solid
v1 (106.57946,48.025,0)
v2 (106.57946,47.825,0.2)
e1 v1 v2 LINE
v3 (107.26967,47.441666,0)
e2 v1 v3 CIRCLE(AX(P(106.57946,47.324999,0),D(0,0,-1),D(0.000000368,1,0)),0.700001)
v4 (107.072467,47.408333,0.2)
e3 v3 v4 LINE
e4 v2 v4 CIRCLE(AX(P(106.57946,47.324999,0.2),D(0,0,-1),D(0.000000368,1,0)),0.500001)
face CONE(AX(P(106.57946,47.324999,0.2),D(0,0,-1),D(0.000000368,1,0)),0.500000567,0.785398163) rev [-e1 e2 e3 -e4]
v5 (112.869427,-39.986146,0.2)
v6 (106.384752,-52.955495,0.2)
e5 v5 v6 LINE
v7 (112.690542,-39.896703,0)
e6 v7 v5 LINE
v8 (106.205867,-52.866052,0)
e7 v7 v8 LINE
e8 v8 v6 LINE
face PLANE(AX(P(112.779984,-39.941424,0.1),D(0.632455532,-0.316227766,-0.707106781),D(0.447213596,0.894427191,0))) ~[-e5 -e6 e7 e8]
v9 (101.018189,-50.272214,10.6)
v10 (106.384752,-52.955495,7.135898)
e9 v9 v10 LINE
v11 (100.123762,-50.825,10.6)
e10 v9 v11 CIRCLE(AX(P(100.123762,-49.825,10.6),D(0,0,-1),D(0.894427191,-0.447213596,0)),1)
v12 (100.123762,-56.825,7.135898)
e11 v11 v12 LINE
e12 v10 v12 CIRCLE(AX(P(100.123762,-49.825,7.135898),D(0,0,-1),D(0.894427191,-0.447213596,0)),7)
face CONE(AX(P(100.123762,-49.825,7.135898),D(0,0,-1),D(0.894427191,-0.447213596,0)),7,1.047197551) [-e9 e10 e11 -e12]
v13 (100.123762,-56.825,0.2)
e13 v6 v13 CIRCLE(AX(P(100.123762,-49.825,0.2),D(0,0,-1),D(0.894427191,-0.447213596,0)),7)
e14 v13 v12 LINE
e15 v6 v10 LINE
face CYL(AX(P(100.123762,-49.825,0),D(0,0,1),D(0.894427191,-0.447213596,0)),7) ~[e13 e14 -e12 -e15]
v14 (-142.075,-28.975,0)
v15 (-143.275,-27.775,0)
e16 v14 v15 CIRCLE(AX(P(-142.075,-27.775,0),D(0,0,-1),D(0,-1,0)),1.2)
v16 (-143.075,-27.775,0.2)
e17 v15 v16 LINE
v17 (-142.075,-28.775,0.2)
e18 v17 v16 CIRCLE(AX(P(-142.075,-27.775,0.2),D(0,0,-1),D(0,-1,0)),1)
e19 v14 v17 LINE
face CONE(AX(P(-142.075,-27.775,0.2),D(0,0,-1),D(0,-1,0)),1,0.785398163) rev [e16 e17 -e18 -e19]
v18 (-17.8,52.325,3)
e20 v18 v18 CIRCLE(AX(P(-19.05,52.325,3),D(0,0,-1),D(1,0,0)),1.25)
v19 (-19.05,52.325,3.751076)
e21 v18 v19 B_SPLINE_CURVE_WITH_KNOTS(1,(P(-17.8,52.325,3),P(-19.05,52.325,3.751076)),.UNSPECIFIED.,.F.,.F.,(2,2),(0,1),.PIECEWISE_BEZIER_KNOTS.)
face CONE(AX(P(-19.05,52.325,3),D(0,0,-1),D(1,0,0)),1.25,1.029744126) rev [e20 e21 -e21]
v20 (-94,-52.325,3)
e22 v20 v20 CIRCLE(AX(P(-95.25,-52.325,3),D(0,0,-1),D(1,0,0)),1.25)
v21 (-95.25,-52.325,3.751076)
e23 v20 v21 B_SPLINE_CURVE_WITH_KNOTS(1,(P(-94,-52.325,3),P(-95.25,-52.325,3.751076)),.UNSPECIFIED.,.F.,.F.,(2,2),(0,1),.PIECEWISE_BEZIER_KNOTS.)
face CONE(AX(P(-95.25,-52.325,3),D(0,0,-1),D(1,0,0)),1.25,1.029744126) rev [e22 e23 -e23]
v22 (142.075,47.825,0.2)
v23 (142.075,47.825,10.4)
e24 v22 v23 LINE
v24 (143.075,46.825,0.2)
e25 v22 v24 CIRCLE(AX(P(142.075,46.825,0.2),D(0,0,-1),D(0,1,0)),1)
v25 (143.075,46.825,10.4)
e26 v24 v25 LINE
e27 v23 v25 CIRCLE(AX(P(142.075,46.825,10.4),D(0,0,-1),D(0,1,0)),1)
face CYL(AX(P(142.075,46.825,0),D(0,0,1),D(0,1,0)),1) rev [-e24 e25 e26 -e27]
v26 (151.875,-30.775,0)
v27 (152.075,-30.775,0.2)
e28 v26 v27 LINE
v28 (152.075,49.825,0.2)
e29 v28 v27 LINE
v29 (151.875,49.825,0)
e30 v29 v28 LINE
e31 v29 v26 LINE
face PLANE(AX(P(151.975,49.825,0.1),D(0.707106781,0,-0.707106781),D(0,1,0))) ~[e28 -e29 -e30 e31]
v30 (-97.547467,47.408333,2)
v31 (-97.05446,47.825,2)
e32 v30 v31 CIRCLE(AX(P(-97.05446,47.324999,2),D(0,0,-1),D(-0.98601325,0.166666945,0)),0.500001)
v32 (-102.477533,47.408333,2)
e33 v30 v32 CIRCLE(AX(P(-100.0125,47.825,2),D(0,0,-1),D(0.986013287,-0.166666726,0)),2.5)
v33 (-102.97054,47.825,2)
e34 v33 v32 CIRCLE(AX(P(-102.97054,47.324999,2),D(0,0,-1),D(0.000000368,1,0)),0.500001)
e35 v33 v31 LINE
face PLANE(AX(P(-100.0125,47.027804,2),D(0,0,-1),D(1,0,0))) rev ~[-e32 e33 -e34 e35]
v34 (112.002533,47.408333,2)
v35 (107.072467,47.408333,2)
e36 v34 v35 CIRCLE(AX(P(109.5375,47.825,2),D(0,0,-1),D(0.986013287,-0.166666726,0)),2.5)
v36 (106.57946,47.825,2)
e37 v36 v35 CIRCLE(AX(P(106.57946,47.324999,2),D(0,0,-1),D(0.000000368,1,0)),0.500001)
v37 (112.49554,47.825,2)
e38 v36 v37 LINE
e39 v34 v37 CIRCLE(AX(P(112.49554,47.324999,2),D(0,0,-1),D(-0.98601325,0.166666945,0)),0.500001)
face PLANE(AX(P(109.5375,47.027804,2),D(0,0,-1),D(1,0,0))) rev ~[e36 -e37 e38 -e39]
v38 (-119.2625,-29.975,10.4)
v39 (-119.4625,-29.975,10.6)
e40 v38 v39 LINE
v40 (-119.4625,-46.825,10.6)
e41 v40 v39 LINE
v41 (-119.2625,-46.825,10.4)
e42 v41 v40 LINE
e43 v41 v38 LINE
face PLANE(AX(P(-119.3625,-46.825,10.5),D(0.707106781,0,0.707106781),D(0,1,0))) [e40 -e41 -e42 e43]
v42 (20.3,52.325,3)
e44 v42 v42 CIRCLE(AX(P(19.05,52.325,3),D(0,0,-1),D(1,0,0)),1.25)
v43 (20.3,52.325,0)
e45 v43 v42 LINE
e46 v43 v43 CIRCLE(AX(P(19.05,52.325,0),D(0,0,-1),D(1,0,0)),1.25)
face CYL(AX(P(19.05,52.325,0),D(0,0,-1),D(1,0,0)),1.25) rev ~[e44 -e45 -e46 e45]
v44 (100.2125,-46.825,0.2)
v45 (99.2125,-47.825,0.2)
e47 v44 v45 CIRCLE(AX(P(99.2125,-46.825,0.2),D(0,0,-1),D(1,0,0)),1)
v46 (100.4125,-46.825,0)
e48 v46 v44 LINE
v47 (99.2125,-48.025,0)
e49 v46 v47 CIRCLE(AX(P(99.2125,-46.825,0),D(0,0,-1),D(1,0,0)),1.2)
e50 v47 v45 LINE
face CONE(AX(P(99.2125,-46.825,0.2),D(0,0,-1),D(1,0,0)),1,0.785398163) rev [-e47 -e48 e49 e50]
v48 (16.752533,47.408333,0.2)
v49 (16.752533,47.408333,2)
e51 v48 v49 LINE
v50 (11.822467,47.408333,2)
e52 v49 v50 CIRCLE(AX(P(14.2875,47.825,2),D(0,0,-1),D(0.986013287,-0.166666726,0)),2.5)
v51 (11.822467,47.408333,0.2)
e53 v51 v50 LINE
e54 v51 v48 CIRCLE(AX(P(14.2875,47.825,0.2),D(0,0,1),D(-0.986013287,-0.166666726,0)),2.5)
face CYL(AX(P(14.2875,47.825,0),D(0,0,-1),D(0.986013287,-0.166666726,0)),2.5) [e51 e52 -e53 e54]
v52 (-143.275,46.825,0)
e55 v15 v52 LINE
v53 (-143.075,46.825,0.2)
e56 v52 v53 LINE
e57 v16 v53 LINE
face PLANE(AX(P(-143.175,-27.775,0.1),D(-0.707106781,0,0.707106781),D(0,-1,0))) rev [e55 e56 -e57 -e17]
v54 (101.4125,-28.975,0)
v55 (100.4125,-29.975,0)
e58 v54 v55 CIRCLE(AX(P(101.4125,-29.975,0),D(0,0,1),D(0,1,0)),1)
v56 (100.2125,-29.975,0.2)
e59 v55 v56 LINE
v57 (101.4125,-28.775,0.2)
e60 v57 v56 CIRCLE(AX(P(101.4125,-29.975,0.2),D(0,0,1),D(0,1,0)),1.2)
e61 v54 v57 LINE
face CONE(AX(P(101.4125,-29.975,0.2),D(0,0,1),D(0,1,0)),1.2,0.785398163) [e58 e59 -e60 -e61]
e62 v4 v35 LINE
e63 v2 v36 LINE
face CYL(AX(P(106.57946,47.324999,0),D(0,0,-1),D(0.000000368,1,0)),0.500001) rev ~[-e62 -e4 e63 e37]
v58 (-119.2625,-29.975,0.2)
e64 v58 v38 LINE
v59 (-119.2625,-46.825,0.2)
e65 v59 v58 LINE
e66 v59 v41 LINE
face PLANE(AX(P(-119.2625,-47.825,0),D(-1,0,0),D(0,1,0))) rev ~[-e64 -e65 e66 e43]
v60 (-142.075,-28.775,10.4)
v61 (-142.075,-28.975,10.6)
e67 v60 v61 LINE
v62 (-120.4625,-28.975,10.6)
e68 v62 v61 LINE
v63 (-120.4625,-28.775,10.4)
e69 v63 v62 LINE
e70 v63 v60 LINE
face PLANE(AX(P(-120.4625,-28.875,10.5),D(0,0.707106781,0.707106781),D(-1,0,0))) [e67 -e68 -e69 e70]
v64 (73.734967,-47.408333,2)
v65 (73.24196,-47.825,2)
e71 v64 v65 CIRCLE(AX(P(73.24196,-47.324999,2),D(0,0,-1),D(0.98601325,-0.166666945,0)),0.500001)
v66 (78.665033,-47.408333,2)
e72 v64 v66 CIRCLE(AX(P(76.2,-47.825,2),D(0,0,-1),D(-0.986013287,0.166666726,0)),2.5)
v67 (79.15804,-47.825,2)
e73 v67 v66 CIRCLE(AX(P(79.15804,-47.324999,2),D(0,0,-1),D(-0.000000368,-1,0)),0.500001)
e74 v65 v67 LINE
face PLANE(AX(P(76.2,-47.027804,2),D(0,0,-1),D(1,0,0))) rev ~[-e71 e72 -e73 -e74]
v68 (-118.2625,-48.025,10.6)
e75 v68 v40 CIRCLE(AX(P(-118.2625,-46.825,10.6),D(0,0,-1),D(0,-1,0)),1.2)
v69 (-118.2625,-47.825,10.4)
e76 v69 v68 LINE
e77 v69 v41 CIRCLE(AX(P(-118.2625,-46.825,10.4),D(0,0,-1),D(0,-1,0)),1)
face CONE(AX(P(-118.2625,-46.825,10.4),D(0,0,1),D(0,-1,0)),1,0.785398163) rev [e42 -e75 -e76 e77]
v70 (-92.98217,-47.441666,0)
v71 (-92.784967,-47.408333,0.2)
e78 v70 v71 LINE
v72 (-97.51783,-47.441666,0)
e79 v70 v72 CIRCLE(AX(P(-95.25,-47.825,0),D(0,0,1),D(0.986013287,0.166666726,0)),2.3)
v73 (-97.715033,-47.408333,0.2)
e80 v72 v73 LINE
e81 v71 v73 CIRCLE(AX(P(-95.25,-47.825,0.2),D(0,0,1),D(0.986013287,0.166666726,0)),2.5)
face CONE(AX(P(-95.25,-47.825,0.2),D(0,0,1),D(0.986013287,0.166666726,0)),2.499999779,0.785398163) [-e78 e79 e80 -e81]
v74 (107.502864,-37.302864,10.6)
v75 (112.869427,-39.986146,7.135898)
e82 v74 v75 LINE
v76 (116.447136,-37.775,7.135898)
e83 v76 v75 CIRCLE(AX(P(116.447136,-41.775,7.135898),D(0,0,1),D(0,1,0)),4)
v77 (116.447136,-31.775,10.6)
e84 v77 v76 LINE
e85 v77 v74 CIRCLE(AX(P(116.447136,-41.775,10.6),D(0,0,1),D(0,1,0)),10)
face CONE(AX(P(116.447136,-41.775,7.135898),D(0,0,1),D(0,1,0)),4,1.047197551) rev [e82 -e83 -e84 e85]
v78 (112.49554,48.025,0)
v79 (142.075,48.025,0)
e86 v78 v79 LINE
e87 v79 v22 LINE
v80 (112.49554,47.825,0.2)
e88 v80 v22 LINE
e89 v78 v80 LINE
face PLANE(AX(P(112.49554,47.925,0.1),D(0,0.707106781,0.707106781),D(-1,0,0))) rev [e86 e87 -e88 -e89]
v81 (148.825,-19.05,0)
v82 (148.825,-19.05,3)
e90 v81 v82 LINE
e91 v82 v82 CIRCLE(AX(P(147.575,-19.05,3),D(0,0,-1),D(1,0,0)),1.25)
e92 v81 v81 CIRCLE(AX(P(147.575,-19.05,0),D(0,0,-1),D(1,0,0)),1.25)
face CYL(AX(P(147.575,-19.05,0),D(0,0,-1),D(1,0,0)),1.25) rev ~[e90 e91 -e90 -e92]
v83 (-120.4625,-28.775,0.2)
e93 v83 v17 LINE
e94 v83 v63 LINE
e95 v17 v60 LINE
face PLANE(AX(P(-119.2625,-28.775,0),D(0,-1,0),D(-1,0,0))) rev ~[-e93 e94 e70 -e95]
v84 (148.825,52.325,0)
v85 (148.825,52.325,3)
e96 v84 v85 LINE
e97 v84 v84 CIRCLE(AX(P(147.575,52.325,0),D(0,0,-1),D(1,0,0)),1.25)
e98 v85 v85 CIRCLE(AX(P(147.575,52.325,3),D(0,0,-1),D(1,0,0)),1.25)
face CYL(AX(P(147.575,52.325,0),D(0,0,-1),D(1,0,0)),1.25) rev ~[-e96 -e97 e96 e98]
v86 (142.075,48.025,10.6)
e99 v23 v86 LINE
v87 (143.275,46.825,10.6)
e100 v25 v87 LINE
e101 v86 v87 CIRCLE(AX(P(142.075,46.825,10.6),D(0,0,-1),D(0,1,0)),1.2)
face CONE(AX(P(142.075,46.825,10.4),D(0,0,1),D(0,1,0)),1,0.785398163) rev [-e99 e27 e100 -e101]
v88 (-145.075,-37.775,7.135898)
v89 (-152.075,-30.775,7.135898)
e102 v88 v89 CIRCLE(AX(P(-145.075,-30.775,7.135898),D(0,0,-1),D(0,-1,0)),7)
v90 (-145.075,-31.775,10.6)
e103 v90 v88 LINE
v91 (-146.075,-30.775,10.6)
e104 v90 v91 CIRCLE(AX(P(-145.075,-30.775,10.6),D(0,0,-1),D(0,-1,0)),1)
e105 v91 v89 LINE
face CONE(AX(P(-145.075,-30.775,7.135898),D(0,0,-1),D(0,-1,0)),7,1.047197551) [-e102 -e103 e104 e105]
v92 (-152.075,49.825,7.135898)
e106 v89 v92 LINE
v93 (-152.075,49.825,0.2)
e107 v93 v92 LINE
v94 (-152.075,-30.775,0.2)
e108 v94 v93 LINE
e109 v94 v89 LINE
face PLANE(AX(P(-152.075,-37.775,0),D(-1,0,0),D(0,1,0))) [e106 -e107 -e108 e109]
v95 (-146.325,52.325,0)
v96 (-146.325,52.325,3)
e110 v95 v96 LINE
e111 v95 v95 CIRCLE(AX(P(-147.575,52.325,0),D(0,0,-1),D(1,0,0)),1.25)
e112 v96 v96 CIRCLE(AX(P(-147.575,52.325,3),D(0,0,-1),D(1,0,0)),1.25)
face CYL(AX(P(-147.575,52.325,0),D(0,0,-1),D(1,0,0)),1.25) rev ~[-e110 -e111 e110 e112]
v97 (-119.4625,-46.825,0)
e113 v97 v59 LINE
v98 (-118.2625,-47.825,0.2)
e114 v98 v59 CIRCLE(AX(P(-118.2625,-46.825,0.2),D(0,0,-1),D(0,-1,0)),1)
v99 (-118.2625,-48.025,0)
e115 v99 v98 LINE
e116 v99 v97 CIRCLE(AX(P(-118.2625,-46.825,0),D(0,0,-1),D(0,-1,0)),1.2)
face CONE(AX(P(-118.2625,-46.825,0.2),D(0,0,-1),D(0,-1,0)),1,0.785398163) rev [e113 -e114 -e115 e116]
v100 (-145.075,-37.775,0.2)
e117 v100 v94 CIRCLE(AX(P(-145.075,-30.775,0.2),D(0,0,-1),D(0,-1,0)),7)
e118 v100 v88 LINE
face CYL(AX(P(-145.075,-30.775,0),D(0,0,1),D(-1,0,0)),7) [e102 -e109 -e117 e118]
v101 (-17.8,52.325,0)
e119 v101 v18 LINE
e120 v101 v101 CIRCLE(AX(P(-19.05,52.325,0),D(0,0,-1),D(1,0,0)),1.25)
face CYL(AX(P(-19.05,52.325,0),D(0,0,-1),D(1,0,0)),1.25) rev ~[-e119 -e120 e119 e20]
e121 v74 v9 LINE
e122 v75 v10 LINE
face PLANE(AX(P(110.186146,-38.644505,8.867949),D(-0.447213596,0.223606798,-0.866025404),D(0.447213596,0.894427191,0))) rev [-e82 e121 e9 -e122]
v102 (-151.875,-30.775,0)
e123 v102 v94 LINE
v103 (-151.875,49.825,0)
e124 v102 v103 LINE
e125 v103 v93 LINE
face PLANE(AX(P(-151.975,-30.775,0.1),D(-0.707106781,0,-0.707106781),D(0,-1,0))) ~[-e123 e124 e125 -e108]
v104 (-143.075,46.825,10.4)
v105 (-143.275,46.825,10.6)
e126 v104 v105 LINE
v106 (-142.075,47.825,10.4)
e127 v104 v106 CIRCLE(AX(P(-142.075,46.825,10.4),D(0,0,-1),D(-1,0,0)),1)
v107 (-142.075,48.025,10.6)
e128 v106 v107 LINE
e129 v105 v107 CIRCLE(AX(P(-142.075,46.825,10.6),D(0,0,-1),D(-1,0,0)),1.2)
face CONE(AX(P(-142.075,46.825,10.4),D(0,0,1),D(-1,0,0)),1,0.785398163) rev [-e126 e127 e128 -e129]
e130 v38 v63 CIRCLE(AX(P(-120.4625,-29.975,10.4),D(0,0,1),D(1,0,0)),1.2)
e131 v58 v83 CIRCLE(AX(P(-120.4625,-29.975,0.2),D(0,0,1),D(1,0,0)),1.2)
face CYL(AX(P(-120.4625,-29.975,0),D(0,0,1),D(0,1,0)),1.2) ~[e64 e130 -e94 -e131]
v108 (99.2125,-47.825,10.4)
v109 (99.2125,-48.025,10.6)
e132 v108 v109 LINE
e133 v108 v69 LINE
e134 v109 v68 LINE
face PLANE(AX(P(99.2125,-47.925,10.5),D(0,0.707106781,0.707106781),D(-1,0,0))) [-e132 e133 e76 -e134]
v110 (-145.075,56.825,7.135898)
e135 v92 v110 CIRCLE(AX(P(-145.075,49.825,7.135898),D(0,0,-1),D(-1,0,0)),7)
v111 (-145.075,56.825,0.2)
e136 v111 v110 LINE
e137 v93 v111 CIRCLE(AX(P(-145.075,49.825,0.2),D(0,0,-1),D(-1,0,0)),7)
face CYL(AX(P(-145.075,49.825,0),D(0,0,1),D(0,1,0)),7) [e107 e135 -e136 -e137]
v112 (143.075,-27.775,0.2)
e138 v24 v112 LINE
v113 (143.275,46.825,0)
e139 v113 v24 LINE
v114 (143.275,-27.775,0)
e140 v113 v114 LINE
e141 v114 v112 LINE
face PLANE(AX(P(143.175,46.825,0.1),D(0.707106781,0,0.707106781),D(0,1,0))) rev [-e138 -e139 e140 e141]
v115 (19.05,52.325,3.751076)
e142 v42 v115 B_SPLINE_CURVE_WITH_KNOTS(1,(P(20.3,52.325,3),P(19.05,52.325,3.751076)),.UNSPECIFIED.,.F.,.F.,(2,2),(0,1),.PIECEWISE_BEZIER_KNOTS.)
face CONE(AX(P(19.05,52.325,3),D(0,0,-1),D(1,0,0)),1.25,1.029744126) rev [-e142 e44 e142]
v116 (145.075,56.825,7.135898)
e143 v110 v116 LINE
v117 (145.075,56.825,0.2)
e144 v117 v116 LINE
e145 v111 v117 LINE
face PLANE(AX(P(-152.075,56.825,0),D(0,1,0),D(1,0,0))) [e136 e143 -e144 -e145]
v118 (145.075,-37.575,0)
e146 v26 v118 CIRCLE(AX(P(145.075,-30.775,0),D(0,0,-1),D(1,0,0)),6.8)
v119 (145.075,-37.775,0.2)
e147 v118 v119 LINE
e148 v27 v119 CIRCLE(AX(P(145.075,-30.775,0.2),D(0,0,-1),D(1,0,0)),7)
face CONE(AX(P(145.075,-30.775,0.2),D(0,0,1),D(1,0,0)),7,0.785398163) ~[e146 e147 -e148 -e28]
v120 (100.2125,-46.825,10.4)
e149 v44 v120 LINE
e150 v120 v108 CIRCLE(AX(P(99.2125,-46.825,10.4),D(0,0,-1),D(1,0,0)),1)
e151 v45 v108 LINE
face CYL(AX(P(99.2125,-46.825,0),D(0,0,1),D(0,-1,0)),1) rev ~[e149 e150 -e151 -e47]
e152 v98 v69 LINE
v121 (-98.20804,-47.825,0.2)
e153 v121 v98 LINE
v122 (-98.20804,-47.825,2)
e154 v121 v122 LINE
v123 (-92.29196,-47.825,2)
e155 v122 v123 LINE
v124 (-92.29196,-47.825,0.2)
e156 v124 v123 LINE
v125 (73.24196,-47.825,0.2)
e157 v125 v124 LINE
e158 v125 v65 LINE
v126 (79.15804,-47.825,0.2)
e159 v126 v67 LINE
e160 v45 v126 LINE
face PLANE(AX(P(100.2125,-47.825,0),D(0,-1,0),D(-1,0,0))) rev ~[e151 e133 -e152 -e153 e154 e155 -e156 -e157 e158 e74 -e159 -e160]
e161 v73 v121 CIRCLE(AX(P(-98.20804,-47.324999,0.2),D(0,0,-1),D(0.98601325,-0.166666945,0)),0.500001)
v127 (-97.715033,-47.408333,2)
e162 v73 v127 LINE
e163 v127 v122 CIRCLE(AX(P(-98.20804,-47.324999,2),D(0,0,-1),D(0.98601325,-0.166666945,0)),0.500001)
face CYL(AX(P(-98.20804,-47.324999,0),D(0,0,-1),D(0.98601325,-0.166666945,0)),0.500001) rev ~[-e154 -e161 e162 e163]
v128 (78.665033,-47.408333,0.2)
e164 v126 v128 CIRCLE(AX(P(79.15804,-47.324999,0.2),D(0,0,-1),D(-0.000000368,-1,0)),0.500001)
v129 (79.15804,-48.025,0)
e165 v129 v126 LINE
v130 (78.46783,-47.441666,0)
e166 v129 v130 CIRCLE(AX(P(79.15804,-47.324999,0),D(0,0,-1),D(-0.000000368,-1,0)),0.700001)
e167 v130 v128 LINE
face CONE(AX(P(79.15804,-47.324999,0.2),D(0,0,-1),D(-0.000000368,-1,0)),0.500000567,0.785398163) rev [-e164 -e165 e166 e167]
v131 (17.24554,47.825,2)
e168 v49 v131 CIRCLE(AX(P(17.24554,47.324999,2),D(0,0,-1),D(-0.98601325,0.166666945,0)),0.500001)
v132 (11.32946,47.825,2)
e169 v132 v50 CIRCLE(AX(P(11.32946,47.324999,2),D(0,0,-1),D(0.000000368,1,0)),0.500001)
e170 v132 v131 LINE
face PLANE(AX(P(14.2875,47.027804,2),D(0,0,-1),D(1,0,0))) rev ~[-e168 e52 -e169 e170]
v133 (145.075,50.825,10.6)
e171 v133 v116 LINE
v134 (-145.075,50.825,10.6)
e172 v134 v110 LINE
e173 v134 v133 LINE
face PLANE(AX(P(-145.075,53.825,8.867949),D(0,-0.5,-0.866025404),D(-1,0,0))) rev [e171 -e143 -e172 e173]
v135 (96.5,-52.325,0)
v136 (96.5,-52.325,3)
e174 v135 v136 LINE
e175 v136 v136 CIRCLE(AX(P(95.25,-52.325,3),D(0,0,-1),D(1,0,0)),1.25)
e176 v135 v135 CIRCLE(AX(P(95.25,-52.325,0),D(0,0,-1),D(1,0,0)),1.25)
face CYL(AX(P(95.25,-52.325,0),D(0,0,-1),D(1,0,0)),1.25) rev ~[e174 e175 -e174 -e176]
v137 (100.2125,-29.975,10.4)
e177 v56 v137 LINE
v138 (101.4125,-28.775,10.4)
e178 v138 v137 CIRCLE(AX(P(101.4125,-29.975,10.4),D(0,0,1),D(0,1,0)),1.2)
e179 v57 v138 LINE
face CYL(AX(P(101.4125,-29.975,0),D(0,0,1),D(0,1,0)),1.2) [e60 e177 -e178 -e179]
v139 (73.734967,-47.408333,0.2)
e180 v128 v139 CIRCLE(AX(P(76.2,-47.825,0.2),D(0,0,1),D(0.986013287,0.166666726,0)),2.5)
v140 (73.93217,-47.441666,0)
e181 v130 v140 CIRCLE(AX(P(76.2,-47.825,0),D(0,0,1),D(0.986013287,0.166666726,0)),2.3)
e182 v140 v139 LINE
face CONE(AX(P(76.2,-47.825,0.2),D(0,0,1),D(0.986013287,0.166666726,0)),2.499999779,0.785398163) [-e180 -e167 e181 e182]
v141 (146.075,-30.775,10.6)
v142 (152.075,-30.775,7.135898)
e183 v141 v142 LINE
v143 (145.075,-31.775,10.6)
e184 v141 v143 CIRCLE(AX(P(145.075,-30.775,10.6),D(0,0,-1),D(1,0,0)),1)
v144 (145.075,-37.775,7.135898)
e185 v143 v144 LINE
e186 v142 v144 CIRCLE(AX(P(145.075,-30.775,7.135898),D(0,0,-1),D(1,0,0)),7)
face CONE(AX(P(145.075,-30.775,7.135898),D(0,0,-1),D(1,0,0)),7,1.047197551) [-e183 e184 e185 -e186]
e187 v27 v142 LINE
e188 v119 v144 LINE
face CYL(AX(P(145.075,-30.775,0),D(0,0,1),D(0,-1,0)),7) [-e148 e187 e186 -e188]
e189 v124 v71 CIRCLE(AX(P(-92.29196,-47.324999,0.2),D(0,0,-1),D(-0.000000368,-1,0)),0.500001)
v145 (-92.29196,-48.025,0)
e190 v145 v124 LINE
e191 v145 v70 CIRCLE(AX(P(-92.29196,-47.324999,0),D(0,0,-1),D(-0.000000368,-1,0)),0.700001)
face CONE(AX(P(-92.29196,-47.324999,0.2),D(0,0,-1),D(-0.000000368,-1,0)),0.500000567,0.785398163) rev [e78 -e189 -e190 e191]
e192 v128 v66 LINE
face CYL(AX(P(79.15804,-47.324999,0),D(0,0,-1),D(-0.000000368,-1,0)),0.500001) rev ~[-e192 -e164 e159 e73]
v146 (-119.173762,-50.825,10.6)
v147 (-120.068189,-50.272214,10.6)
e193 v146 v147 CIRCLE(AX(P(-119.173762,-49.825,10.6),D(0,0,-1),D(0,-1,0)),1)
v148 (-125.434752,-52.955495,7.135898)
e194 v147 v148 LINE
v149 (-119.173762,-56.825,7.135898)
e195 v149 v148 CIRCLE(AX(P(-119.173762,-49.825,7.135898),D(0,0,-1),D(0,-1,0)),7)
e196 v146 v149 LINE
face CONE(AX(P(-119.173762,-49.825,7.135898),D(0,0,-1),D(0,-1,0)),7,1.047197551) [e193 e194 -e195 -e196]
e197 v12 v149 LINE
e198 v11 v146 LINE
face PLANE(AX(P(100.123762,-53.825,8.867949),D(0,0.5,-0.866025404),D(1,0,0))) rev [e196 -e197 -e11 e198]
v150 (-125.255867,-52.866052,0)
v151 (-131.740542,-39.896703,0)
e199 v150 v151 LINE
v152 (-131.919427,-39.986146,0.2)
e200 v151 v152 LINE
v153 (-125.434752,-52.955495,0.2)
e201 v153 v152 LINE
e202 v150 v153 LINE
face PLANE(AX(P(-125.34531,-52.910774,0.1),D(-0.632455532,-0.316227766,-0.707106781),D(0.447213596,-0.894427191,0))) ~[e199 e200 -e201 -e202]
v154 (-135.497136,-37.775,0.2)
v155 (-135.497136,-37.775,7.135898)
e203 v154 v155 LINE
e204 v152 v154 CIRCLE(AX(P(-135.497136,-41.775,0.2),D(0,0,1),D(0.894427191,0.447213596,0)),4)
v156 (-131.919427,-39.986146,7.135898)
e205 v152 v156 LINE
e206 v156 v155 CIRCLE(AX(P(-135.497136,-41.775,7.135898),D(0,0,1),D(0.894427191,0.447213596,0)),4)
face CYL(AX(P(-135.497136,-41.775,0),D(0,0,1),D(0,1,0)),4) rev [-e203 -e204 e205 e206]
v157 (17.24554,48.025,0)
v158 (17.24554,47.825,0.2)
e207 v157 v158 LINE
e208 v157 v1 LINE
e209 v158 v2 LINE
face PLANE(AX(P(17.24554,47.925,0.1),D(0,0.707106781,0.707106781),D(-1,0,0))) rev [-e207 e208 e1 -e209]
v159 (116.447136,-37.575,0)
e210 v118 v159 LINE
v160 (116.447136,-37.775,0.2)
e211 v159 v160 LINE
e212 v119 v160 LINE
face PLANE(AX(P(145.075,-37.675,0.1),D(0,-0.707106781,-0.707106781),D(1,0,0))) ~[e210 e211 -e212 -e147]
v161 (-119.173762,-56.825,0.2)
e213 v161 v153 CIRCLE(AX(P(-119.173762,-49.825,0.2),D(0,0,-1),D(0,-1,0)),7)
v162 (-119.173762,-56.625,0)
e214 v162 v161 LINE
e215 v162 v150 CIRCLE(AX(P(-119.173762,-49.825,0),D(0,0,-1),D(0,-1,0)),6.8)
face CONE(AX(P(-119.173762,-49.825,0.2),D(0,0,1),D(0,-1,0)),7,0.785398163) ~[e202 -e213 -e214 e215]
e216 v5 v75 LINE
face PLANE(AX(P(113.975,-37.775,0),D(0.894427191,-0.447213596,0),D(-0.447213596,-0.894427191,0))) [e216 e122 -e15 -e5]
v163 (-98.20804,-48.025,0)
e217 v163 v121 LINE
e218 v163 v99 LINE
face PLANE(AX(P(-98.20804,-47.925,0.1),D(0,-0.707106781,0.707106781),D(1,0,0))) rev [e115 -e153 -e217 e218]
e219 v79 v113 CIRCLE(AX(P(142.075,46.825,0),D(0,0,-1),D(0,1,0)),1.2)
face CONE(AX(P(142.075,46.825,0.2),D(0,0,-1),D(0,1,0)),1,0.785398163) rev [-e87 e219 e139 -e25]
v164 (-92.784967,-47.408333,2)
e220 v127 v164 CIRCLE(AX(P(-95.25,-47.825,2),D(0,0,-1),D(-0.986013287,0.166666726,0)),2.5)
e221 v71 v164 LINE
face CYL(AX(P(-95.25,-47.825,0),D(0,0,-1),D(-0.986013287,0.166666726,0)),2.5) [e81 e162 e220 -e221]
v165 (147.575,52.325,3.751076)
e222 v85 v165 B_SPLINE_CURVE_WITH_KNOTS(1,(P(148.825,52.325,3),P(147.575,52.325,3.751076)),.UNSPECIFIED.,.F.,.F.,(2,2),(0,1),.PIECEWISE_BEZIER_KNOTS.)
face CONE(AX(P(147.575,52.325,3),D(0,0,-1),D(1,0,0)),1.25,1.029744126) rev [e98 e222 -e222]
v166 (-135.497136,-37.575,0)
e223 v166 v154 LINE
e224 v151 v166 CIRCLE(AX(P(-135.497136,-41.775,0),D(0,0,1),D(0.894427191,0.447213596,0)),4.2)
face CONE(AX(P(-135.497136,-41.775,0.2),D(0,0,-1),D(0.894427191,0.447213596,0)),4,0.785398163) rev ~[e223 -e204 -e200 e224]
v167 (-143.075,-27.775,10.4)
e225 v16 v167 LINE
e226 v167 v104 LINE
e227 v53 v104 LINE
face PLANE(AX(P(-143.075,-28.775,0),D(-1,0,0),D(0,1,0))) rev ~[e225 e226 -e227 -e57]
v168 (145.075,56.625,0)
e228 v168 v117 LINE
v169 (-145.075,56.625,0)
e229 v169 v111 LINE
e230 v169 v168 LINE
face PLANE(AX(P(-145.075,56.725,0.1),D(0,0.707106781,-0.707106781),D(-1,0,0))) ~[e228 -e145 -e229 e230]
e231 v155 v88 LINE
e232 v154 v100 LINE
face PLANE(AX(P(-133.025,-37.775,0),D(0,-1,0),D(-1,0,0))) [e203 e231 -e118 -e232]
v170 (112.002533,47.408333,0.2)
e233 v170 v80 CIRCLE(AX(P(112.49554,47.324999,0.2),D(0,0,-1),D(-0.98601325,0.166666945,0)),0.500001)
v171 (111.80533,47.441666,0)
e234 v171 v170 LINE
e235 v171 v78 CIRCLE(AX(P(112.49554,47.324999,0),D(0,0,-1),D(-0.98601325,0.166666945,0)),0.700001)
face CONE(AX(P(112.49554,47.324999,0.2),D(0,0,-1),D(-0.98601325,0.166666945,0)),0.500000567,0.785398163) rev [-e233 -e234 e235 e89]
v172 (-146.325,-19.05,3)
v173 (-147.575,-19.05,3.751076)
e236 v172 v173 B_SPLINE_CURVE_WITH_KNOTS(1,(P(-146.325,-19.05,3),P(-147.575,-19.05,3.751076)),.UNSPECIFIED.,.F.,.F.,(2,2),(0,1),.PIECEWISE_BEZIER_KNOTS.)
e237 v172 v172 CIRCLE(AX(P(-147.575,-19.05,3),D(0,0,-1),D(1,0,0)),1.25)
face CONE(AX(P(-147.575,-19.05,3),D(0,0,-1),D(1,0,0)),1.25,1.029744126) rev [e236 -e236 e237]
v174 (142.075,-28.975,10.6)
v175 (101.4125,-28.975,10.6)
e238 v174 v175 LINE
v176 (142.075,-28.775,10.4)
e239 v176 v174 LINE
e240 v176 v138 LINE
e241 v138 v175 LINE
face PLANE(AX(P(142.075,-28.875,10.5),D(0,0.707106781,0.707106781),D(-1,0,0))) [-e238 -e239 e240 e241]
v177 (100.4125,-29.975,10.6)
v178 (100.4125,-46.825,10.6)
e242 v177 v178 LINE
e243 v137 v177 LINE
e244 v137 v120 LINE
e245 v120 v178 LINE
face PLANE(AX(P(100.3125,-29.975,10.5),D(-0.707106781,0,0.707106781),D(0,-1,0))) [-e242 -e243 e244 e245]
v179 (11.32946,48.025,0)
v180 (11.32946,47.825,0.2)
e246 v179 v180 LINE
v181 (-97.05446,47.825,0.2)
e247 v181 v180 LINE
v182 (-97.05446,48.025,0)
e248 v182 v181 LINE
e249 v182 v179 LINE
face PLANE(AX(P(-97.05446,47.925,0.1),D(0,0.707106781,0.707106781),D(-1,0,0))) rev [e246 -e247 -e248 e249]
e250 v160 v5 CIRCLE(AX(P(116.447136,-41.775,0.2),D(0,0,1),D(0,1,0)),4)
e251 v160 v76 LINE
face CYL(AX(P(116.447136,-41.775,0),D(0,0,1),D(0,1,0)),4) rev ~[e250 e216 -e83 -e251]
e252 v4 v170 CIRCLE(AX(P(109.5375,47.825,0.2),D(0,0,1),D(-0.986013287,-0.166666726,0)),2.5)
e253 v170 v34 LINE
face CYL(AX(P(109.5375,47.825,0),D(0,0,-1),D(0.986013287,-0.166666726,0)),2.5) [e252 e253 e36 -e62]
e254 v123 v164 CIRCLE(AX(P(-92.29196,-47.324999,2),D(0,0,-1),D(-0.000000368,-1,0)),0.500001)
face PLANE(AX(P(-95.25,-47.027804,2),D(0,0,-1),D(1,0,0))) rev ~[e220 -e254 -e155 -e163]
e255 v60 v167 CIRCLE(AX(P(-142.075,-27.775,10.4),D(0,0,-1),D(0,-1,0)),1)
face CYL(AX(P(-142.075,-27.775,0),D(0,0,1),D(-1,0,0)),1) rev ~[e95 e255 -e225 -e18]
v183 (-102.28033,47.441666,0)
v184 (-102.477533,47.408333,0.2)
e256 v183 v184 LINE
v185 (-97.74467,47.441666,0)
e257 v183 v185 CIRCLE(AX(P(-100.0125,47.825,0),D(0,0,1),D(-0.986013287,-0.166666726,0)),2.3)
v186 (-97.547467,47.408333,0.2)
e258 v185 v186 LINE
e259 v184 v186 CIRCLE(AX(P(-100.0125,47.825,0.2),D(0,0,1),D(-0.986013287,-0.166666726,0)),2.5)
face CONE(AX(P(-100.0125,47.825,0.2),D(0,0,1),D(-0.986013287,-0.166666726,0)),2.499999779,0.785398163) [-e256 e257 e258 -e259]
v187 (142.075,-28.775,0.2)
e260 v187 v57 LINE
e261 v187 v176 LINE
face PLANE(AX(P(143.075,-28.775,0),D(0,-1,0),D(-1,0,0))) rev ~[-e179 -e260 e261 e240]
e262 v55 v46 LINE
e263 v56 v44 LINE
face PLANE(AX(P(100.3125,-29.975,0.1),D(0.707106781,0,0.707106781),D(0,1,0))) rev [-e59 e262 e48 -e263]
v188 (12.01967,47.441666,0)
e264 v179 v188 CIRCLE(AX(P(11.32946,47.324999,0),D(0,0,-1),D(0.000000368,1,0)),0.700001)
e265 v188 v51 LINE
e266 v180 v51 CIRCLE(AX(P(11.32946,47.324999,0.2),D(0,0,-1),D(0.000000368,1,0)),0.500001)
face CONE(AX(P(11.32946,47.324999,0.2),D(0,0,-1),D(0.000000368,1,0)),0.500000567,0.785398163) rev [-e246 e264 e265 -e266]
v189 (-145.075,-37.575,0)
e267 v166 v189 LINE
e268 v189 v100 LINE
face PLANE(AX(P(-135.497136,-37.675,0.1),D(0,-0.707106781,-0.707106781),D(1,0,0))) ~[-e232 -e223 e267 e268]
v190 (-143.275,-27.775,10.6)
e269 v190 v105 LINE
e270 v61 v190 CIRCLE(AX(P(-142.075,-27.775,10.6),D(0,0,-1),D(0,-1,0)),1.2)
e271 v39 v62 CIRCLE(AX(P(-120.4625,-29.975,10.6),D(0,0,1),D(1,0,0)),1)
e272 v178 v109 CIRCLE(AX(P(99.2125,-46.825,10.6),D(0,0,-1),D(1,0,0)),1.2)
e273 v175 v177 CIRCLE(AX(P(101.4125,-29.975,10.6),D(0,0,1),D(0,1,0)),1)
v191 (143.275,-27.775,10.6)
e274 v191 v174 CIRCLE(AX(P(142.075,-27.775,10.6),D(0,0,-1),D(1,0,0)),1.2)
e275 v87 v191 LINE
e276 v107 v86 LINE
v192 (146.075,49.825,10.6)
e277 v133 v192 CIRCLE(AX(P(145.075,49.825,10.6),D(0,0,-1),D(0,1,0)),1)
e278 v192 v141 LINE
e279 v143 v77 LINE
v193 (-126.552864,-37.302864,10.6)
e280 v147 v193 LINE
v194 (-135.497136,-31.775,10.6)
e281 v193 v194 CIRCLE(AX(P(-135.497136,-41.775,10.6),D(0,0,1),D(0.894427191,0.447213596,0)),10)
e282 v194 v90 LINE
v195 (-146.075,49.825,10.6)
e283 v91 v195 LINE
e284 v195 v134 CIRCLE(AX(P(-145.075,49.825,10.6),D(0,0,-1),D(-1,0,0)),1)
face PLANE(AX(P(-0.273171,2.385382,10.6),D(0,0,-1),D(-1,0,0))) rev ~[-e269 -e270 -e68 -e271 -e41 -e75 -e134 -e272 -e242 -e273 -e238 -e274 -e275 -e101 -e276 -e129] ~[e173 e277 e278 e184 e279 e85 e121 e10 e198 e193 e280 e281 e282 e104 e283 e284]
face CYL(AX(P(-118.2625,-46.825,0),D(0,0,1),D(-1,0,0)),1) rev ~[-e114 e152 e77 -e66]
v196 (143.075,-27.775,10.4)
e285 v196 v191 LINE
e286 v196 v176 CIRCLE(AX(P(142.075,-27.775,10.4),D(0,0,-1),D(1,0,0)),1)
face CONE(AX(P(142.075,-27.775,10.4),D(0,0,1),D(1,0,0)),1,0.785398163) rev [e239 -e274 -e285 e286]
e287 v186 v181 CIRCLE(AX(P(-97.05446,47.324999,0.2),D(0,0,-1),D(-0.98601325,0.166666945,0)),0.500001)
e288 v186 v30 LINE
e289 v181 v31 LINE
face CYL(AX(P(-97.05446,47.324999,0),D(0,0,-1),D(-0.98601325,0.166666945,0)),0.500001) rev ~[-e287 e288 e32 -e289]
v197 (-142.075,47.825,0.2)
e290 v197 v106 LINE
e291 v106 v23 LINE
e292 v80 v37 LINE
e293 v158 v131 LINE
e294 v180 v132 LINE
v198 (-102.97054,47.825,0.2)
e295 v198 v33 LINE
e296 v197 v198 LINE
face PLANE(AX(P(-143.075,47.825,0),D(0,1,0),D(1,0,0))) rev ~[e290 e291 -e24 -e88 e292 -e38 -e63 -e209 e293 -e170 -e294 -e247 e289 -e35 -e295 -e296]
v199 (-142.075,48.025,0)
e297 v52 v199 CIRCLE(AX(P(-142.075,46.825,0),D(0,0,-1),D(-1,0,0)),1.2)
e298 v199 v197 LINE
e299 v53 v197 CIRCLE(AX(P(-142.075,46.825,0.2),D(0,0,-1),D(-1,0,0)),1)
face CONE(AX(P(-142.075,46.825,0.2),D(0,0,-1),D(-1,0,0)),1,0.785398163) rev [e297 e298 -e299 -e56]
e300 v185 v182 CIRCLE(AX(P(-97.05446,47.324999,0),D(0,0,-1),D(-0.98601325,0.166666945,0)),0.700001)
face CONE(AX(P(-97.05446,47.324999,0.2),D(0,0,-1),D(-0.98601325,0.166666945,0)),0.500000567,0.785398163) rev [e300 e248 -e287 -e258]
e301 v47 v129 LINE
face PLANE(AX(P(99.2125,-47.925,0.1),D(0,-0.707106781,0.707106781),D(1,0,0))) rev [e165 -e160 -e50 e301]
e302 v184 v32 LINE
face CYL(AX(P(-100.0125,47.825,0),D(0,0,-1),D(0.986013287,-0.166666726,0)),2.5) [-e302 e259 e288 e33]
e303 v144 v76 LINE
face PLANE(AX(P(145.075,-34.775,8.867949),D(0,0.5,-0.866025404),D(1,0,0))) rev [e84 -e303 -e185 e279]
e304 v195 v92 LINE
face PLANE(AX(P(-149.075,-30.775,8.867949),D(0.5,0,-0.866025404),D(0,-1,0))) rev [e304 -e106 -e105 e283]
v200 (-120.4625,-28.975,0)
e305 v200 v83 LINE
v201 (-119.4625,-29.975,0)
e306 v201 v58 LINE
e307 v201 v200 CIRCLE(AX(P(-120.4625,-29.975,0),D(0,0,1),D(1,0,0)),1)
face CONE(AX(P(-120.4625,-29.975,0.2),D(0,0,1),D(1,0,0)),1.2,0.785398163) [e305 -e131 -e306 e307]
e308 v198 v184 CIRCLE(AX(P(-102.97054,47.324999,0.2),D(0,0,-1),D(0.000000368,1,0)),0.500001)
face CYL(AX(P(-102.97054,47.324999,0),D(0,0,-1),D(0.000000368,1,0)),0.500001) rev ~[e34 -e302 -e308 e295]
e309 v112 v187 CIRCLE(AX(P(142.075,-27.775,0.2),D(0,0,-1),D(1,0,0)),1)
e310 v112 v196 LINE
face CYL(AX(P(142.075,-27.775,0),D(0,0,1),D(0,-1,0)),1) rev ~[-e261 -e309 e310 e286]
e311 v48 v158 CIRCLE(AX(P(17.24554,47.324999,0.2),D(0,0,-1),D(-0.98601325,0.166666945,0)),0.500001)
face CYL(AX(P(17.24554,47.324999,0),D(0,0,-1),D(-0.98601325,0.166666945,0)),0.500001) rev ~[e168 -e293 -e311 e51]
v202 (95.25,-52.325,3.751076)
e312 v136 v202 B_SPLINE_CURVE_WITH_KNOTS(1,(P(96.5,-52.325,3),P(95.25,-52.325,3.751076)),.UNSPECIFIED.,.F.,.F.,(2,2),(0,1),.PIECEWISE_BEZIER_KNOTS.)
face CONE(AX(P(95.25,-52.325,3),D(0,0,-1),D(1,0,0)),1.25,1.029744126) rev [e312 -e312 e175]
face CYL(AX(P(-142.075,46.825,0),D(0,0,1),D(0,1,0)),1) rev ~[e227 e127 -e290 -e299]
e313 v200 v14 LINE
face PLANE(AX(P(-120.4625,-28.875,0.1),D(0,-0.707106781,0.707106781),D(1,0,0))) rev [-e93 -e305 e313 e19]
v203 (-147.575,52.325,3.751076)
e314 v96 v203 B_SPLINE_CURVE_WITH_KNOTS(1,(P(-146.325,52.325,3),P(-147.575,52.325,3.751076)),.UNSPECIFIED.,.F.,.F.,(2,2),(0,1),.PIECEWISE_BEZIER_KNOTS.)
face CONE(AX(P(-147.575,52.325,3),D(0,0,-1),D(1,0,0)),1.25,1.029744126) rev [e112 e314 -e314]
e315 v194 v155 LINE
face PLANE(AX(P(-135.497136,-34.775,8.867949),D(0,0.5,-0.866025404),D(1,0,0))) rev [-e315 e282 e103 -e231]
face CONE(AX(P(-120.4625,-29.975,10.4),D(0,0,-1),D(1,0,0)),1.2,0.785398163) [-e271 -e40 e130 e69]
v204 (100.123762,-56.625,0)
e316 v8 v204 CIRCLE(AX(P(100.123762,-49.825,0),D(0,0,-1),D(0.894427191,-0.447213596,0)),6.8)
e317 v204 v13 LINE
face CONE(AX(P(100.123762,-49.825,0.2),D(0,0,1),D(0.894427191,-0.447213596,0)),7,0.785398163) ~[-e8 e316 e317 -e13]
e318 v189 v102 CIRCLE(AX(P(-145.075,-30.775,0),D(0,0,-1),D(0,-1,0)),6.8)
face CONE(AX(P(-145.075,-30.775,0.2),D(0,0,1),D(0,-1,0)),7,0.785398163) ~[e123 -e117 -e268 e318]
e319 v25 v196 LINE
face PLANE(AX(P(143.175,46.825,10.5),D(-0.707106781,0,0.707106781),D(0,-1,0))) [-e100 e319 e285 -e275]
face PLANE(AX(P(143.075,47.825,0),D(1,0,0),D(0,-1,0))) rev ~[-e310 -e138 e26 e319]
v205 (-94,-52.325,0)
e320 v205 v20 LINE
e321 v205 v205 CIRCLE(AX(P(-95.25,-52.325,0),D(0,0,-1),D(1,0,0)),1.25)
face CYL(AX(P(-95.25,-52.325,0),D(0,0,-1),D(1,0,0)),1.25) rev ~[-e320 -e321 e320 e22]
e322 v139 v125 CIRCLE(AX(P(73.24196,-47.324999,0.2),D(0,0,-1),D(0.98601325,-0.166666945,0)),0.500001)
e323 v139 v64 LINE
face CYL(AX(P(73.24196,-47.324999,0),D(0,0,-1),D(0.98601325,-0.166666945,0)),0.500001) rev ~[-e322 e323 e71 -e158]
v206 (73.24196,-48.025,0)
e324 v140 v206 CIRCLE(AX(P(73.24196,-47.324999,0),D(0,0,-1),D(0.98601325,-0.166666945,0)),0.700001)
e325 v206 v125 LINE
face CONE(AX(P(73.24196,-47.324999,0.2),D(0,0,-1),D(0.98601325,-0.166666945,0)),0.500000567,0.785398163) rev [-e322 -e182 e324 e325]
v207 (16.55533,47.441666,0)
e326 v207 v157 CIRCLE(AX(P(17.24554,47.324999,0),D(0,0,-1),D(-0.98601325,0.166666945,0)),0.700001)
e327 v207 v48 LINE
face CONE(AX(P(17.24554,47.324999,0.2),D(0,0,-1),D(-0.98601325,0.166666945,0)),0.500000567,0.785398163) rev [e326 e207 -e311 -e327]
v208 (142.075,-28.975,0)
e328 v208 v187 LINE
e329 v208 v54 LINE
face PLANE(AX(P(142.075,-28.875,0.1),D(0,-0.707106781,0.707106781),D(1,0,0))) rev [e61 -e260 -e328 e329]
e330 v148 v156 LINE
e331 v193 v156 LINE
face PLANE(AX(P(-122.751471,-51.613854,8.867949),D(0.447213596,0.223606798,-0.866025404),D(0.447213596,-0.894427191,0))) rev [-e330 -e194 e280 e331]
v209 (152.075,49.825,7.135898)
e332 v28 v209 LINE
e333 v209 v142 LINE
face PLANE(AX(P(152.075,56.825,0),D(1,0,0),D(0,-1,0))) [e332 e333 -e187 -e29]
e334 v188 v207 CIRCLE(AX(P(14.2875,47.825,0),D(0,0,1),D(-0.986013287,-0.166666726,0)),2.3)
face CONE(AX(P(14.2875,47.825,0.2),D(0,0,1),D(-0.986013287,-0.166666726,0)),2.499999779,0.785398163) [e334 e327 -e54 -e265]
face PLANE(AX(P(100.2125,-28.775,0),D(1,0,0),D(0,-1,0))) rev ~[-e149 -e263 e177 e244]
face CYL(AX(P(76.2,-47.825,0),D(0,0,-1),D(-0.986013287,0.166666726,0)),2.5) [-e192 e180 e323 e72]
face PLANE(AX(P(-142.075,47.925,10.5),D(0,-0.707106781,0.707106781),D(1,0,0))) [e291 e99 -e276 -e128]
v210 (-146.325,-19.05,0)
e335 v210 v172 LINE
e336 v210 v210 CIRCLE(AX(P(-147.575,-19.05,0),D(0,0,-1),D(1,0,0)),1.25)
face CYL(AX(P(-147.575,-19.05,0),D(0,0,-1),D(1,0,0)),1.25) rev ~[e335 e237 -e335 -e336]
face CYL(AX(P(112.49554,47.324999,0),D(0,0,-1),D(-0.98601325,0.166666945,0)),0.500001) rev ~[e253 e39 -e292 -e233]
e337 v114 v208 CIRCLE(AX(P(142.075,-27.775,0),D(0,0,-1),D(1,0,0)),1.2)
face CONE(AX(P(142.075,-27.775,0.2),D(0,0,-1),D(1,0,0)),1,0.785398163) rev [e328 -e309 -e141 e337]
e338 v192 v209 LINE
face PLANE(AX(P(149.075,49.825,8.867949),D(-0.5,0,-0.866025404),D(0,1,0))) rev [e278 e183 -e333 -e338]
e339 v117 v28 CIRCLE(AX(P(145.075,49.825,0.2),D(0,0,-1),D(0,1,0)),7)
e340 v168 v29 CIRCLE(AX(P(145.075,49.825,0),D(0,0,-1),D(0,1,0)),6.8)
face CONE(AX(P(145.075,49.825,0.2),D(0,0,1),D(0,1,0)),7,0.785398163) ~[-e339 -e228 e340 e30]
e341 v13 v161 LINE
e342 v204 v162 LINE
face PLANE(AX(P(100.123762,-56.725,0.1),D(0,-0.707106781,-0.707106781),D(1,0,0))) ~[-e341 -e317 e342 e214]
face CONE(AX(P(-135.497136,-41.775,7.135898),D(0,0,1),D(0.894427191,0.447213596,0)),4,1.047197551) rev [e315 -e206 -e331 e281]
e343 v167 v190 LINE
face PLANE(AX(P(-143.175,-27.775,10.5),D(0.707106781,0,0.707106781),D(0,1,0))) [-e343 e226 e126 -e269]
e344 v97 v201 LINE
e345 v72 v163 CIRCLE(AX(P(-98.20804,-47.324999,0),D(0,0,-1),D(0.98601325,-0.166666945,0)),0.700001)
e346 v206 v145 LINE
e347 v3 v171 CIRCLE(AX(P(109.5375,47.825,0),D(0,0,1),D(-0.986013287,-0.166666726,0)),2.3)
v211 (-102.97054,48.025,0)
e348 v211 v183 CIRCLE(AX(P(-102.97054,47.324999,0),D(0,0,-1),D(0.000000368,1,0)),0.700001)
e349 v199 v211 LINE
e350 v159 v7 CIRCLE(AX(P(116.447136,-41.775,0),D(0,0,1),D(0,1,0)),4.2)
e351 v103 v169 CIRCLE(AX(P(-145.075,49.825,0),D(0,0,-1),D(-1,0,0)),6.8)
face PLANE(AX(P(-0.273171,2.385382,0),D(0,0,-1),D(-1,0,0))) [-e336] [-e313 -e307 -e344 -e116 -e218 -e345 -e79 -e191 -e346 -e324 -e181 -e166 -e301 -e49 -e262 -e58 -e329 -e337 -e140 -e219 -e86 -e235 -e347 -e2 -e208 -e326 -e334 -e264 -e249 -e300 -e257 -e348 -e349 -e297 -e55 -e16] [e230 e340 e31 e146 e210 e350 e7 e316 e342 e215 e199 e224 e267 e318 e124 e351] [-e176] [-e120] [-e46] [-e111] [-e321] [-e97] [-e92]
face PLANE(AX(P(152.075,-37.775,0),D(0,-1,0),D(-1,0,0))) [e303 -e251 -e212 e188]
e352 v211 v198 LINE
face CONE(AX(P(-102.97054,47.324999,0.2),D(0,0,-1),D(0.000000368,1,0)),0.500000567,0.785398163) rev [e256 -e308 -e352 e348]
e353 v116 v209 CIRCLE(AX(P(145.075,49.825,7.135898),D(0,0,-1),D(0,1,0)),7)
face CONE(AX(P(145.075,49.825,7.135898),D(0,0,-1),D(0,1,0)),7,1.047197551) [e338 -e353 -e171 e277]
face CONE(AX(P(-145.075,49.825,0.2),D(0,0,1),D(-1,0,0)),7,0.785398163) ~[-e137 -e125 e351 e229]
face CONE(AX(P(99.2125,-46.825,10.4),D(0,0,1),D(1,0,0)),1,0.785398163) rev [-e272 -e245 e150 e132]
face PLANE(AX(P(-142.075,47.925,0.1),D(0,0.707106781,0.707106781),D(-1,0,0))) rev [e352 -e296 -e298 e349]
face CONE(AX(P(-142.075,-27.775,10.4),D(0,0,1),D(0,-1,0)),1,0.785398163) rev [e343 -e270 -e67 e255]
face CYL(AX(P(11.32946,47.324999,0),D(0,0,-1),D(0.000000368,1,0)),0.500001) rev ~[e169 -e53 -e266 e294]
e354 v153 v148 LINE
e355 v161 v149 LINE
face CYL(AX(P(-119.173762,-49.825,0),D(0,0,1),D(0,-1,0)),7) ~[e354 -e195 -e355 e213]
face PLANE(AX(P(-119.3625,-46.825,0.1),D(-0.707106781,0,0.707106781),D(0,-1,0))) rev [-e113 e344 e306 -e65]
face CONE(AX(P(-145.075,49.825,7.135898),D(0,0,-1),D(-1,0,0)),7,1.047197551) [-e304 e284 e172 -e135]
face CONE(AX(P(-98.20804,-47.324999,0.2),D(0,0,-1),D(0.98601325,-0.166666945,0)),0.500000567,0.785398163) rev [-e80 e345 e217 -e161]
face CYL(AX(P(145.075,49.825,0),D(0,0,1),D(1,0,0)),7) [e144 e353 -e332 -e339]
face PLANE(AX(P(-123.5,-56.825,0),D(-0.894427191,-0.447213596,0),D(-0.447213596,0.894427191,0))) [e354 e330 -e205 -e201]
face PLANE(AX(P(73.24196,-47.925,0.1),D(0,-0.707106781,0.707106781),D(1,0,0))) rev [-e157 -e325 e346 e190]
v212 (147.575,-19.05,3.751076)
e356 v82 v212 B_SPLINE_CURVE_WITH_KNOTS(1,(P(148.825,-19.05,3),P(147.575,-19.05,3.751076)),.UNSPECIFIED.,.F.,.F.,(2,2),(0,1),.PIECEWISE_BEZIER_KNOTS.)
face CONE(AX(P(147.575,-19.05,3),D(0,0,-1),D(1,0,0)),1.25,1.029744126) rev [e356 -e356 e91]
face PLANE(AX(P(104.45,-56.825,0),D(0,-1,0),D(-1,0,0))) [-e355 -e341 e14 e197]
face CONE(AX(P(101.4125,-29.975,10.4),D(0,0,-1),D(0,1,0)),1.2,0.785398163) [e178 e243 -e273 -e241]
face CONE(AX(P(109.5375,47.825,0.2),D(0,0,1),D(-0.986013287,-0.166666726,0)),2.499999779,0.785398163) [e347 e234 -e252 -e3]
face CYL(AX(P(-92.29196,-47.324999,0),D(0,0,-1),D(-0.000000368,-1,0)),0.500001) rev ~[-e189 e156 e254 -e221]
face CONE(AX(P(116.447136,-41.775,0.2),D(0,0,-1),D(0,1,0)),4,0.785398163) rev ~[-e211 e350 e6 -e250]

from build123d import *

# Parameters (mm, degrees)
PAD_DEPTH       = 10.6
PAD005_DEPTH    = 2
FILLET_R        = 4
FILLET008_R     = 7
CHAMFER_ANGLE   = 30
CHAMFER_SIZE    = 6
FILLET009_R     = 1
FILLET010_R     = 1.2
CHAMFER004_SIZE = 0.2
SKETCH015_R     = 1.25
HOLE004_DEPTH   = 3
HOLE004_TIPS_R  = 1.25


with BuildPart() as part:
    # Sketch → Pad (new body)
    with BuildSketch(Plane.XY):
        Polygon((-152.075, 56.825), (152.075, 56.825), (152.075, -37.775), (113.975, -37.775), (104.45, -56.825), (-123.5, -56.825), (-133.025, -37.775), (-152.075, -37.775), align=None)
        Polygon((-143.075, 47.825), (143.075, 47.825), (143.075, -28.775), (100.2125, -28.775), (100.2125, -47.825), (-119.2625, -47.825), (-119.2625, -28.775), (-143.075, -28.775), align=None, mode=Mode.SUBTRACT)
    extrude(amount=PAD_DEPTH)

    # Sketch011 (on Face17 of Pad) → Pad005 (join)
    with BuildSketch(Plane(origin=(0, 0, 0), x_dir=(1, 0, 0), z_dir=(0, 0, -1))):
        with BuildLine():
            ThreePointArc((16.752533, -47.408333), (14.2875, -45.325), (11.822467, -47.408333))
            ThreePointArc((11.32946, -47.825), (11.652209, -47.706881), (11.822467, -47.408333))
            Line((11.32946, -47.825), (17.24554, -47.825))
            ThreePointArc((16.752533, -47.408333), (16.922791, -47.706881), (17.24554, -47.825))
        make_face()
        with BuildLine():
            ThreePointArc((112.002533, -47.408333), (109.5375, -45.325), (107.072467, -47.408333))
            ThreePointArc((106.57946, -47.825), (106.902209, -47.706881), (107.072467, -47.408333))
            Line((106.57946, -47.825), (112.49554, -47.825))
            ThreePointArc((112.002533, -47.408333), (112.172791, -47.706881), (112.49554, -47.825))
        make_face()
        with BuildLine():
            ThreePointArc((-97.547467, -47.408333), (-100.0125, -45.325), (-102.477533, -47.408333))
            ThreePointArc((-102.97054, -47.825), (-102.647791, -47.706881), (-102.477533, -47.408333))
            Line((-102.97054, -47.825), (-97.05446, -47.825))
            ThreePointArc((-97.547467, -47.408333), (-97.377209, -47.706881), (-97.05446, -47.825))
        make_face()
        with BuildLine():
            ThreePointArc((73.734967, 47.408333), (76.2, 45.325), (78.665033, 47.408333))
            ThreePointArc((79.15804, 47.825), (78.835291, 47.706881), (78.665033, 47.408333))
            Line((73.24196, 47.825), (79.15804, 47.825))
            ThreePointArc((73.734967, 47.408333), (73.564709, 47.706881), (73.24196, 47.825))
        make_face()
        with BuildLine():
            ThreePointArc((-97.715033, 47.408333), (-95.25, 45.325), (-92.784967, 47.408333))
            ThreePointArc((-92.29196, 47.825), (-92.614709, 47.706881), (-92.784967, 47.408333))
            Line((-98.20804, 47.825), (-92.29196, 47.825))
            ThreePointArc((-97.715033, 47.408333), (-97.885291, 47.706881), (-98.20804, 47.825))
        make_face()
    extrude(amount=-PAD005_DEPTH)

    # Fillet
    fillet_edges = [part.edges().sort_by_distance(p)[0] for p in [
        (113.975, -37.775, 5.3),
        (-133.025, -37.775, 5.3),
    ]]
    fillet(fillet_edges, radius=FILLET_R)

    # Fillet008
    fillet008_edges = [part.edges().sort_by_distance(p)[0] for p in [
        (-152.075, -37.775, 5.3),
        (-123.5, -56.825, 5.3),
        (104.45, -56.825, 5.3),
        (152.075, -37.775, 5.3),
        (152.075, 56.825, 5.3),
        (-152.075, 56.825, 5.3),
    ]]
    fillet(fillet008_edges, radius=FILLET008_R)

    # Chamfer
    chamfer_edges = [part.edges().sort_by_distance(p)[0] for p in [
        (-9.525, -56.825, 10.6),
    ]]
    chamfer_side = part.faces().sort_by_distance((130.761068, -34.528101, 10.6))[0]
    chamfer(chamfer_edges, length=CHAMFER_SIZE, angle=CHAMFER_ANGLE, reference=chamfer_side)

    # Fillet009
    fillet009_edges = [part.edges().sort_by_distance(p)[0] for p in [
        (100.2125, -47.825, 5.3),
        (143.075, -28.775, 5.3),
        (143.075, 47.825, 5.3),
        (-143.075, 47.825, 5.3),
        (-143.075, -28.775, 5.3),
        (-119.2625, -47.825, 5.3),
    ]]
    fillet(fillet009_edges, radius=FILLET009_R)

    # Fillet010
    fillet010_edges = [part.edges().sort_by_distance(p)[0] for p in [
        (100.2125, -28.775, 5.3),
        (-119.2625, -28.775, 5.3),
    ]]
    fillet(fillet010_edges, radius=FILLET010_R)

    # Chamfer004
    chamfer004_edges = [part.edges().sort_by_distance(p)[0] for p in [
        (121.74375, -28.775, 10.6),
        (121.74375, -28.775, 0),
        (152.075, 9.525, 0),
    ]]
    chamfer(chamfer004_edges, length=CHAMFER004_SIZE)

    # Sketch015 (on Face118 of Chamfer004) → Hole004 (cut)
    with BuildSketch(Plane(origin=(0, 0, 0), x_dir=(1, 0, 0), z_dir=(0, 0, -1))):
        with Locations((-95.25, 52.325)):
            Circle(SKETCH015_R)
        with Locations((95.25, 52.325)):
            Circle(SKETCH015_R)
        with Locations((147.575, 19.05)):
            Circle(SKETCH015_R)
        with Locations((-147.575, 19.05)):
            Circle(SKETCH015_R)
        with Locations((-147.575, -52.325)):
            Circle(SKETCH015_R)
        with Locations((147.575, -52.325)):
            Circle(SKETCH015_R)
        with Locations((-19.05, -52.325)):
            Circle(SKETCH015_R)
        with Locations((19.05, -52.325)):
            Circle(SKETCH015_R)
    extrude(amount=-HOLE004_DEPTH, mode=Mode.SUBTRACT)

    # Hole004 tips → Hole004 tip 1 section 0
    with BuildSketch(Plane(origin=(0, 0, 3), x_dir=(1, 0, 0), z_dir=(0, 0, -1)), mode=Mode.PRIVATE) as hole004_tip_1_s0:
        with Locations((-95.25, 52.325)):
            Circle(HOLE004_TIPS_R)
    loft([hole004_tip_1_s0.sketch, Vertex(-95.25, -52.325, 3.751076)], mode=Mode.SUBTRACT)

    # Hole004 tips → Hole004 tip 2 section 0
    with BuildSketch(Plane(origin=(0, 0, 3), x_dir=(1, 0, 0), z_dir=(0, 0, -1)), mode=Mode.PRIVATE) as hole004_tip_2_s0:
        with Locations((95.25, 52.325)):
            Circle(HOLE004_TIPS_R)
    loft([hole004_tip_2_s0.sketch, Vertex(95.25, -52.325, 3.751076)], mode=Mode.SUBTRACT)

    # Hole004 tips → Hole004 tip 3 section 0
    with BuildSketch(Plane(origin=(0, 0, 3), x_dir=(1, 0, 0), z_dir=(0, 0, -1)), mode=Mode.PRIVATE) as hole004_tip_3_s0:
        with Locations((147.575, 19.05)):
            Circle(HOLE004_TIPS_R)
    loft([hole004_tip_3_s0.sketch, Vertex(147.575, -19.05, 3.751076)], mode=Mode.SUBTRACT)

    # Hole004 tips → Hole004 tip 4 section 0
    with BuildSketch(Plane(origin=(0, 0, 3), x_dir=(1, 0, 0), z_dir=(0, 0, -1)), mode=Mode.PRIVATE) as hole004_tip_4_s0:
        with Locations((-147.575, 19.05)):
            Circle(HOLE004_TIPS_R)
    loft([hole004_tip_4_s0.sketch, Vertex(-147.575, -19.05, 3.751076)], mode=Mode.SUBTRACT)

    # Hole004 tips → Hole004 tip 5 section 0
    with BuildSketch(Plane(origin=(0, 0, 3), x_dir=(1, 0, 0), z_dir=(0, 0, -1)), mode=Mode.PRIVATE) as hole004_tip_5_s0:
        with Locations((-147.575, -52.325)):
            Circle(HOLE004_TIPS_R)
    loft([hole004_tip_5_s0.sketch, Vertex(-147.575, 52.325, 3.751076)], mode=Mode.SUBTRACT)

    # Hole004 tips → Hole004 tip 6 section 0
    with BuildSketch(Plane(origin=(0, 0, 3), x_dir=(1, 0, 0), z_dir=(0, 0, -1)), mode=Mode.PRIVATE) as hole004_tip_6_s0:
        with Locations((147.575, -52.325)):
            Circle(HOLE004_TIPS_R)
    loft([hole004_tip_6_s0.sketch, Vertex(147.575, 52.325, 3.751076)], mode=Mode.SUBTRACT)

    # Hole004 tips → Hole004 tip 7 section 0
    with BuildSketch(Plane(origin=(0, 0, 3), x_dir=(1, 0, 0), z_dir=(0, 0, -1)), mode=Mode.PRIVATE) as hole004_tip_7_s0:
        with Locations((-19.05, -52.325)):
            Circle(HOLE004_TIPS_R)
    loft([hole004_tip_7_s0.sketch, Vertex(-19.05, 52.325, 3.751076)], mode=Mode.SUBTRACT)

    # Hole004 tips → Hole004 tip 8 section 0
    with BuildSketch(Plane(origin=(0, 0, 3), x_dir=(1, 0, 0), z_dir=(0, 0, -1)), mode=Mode.PRIVATE) as hole004_tip_8_s0:
        with Locations((19.05, -52.325)):
            Circle(HOLE004_TIPS_R)
    loft([hole004_tip_8_s0.sketch, Vertex(19.05, 52.325, 3.751076)], mode=Mode.SUBTRACT)


solid = part.part
